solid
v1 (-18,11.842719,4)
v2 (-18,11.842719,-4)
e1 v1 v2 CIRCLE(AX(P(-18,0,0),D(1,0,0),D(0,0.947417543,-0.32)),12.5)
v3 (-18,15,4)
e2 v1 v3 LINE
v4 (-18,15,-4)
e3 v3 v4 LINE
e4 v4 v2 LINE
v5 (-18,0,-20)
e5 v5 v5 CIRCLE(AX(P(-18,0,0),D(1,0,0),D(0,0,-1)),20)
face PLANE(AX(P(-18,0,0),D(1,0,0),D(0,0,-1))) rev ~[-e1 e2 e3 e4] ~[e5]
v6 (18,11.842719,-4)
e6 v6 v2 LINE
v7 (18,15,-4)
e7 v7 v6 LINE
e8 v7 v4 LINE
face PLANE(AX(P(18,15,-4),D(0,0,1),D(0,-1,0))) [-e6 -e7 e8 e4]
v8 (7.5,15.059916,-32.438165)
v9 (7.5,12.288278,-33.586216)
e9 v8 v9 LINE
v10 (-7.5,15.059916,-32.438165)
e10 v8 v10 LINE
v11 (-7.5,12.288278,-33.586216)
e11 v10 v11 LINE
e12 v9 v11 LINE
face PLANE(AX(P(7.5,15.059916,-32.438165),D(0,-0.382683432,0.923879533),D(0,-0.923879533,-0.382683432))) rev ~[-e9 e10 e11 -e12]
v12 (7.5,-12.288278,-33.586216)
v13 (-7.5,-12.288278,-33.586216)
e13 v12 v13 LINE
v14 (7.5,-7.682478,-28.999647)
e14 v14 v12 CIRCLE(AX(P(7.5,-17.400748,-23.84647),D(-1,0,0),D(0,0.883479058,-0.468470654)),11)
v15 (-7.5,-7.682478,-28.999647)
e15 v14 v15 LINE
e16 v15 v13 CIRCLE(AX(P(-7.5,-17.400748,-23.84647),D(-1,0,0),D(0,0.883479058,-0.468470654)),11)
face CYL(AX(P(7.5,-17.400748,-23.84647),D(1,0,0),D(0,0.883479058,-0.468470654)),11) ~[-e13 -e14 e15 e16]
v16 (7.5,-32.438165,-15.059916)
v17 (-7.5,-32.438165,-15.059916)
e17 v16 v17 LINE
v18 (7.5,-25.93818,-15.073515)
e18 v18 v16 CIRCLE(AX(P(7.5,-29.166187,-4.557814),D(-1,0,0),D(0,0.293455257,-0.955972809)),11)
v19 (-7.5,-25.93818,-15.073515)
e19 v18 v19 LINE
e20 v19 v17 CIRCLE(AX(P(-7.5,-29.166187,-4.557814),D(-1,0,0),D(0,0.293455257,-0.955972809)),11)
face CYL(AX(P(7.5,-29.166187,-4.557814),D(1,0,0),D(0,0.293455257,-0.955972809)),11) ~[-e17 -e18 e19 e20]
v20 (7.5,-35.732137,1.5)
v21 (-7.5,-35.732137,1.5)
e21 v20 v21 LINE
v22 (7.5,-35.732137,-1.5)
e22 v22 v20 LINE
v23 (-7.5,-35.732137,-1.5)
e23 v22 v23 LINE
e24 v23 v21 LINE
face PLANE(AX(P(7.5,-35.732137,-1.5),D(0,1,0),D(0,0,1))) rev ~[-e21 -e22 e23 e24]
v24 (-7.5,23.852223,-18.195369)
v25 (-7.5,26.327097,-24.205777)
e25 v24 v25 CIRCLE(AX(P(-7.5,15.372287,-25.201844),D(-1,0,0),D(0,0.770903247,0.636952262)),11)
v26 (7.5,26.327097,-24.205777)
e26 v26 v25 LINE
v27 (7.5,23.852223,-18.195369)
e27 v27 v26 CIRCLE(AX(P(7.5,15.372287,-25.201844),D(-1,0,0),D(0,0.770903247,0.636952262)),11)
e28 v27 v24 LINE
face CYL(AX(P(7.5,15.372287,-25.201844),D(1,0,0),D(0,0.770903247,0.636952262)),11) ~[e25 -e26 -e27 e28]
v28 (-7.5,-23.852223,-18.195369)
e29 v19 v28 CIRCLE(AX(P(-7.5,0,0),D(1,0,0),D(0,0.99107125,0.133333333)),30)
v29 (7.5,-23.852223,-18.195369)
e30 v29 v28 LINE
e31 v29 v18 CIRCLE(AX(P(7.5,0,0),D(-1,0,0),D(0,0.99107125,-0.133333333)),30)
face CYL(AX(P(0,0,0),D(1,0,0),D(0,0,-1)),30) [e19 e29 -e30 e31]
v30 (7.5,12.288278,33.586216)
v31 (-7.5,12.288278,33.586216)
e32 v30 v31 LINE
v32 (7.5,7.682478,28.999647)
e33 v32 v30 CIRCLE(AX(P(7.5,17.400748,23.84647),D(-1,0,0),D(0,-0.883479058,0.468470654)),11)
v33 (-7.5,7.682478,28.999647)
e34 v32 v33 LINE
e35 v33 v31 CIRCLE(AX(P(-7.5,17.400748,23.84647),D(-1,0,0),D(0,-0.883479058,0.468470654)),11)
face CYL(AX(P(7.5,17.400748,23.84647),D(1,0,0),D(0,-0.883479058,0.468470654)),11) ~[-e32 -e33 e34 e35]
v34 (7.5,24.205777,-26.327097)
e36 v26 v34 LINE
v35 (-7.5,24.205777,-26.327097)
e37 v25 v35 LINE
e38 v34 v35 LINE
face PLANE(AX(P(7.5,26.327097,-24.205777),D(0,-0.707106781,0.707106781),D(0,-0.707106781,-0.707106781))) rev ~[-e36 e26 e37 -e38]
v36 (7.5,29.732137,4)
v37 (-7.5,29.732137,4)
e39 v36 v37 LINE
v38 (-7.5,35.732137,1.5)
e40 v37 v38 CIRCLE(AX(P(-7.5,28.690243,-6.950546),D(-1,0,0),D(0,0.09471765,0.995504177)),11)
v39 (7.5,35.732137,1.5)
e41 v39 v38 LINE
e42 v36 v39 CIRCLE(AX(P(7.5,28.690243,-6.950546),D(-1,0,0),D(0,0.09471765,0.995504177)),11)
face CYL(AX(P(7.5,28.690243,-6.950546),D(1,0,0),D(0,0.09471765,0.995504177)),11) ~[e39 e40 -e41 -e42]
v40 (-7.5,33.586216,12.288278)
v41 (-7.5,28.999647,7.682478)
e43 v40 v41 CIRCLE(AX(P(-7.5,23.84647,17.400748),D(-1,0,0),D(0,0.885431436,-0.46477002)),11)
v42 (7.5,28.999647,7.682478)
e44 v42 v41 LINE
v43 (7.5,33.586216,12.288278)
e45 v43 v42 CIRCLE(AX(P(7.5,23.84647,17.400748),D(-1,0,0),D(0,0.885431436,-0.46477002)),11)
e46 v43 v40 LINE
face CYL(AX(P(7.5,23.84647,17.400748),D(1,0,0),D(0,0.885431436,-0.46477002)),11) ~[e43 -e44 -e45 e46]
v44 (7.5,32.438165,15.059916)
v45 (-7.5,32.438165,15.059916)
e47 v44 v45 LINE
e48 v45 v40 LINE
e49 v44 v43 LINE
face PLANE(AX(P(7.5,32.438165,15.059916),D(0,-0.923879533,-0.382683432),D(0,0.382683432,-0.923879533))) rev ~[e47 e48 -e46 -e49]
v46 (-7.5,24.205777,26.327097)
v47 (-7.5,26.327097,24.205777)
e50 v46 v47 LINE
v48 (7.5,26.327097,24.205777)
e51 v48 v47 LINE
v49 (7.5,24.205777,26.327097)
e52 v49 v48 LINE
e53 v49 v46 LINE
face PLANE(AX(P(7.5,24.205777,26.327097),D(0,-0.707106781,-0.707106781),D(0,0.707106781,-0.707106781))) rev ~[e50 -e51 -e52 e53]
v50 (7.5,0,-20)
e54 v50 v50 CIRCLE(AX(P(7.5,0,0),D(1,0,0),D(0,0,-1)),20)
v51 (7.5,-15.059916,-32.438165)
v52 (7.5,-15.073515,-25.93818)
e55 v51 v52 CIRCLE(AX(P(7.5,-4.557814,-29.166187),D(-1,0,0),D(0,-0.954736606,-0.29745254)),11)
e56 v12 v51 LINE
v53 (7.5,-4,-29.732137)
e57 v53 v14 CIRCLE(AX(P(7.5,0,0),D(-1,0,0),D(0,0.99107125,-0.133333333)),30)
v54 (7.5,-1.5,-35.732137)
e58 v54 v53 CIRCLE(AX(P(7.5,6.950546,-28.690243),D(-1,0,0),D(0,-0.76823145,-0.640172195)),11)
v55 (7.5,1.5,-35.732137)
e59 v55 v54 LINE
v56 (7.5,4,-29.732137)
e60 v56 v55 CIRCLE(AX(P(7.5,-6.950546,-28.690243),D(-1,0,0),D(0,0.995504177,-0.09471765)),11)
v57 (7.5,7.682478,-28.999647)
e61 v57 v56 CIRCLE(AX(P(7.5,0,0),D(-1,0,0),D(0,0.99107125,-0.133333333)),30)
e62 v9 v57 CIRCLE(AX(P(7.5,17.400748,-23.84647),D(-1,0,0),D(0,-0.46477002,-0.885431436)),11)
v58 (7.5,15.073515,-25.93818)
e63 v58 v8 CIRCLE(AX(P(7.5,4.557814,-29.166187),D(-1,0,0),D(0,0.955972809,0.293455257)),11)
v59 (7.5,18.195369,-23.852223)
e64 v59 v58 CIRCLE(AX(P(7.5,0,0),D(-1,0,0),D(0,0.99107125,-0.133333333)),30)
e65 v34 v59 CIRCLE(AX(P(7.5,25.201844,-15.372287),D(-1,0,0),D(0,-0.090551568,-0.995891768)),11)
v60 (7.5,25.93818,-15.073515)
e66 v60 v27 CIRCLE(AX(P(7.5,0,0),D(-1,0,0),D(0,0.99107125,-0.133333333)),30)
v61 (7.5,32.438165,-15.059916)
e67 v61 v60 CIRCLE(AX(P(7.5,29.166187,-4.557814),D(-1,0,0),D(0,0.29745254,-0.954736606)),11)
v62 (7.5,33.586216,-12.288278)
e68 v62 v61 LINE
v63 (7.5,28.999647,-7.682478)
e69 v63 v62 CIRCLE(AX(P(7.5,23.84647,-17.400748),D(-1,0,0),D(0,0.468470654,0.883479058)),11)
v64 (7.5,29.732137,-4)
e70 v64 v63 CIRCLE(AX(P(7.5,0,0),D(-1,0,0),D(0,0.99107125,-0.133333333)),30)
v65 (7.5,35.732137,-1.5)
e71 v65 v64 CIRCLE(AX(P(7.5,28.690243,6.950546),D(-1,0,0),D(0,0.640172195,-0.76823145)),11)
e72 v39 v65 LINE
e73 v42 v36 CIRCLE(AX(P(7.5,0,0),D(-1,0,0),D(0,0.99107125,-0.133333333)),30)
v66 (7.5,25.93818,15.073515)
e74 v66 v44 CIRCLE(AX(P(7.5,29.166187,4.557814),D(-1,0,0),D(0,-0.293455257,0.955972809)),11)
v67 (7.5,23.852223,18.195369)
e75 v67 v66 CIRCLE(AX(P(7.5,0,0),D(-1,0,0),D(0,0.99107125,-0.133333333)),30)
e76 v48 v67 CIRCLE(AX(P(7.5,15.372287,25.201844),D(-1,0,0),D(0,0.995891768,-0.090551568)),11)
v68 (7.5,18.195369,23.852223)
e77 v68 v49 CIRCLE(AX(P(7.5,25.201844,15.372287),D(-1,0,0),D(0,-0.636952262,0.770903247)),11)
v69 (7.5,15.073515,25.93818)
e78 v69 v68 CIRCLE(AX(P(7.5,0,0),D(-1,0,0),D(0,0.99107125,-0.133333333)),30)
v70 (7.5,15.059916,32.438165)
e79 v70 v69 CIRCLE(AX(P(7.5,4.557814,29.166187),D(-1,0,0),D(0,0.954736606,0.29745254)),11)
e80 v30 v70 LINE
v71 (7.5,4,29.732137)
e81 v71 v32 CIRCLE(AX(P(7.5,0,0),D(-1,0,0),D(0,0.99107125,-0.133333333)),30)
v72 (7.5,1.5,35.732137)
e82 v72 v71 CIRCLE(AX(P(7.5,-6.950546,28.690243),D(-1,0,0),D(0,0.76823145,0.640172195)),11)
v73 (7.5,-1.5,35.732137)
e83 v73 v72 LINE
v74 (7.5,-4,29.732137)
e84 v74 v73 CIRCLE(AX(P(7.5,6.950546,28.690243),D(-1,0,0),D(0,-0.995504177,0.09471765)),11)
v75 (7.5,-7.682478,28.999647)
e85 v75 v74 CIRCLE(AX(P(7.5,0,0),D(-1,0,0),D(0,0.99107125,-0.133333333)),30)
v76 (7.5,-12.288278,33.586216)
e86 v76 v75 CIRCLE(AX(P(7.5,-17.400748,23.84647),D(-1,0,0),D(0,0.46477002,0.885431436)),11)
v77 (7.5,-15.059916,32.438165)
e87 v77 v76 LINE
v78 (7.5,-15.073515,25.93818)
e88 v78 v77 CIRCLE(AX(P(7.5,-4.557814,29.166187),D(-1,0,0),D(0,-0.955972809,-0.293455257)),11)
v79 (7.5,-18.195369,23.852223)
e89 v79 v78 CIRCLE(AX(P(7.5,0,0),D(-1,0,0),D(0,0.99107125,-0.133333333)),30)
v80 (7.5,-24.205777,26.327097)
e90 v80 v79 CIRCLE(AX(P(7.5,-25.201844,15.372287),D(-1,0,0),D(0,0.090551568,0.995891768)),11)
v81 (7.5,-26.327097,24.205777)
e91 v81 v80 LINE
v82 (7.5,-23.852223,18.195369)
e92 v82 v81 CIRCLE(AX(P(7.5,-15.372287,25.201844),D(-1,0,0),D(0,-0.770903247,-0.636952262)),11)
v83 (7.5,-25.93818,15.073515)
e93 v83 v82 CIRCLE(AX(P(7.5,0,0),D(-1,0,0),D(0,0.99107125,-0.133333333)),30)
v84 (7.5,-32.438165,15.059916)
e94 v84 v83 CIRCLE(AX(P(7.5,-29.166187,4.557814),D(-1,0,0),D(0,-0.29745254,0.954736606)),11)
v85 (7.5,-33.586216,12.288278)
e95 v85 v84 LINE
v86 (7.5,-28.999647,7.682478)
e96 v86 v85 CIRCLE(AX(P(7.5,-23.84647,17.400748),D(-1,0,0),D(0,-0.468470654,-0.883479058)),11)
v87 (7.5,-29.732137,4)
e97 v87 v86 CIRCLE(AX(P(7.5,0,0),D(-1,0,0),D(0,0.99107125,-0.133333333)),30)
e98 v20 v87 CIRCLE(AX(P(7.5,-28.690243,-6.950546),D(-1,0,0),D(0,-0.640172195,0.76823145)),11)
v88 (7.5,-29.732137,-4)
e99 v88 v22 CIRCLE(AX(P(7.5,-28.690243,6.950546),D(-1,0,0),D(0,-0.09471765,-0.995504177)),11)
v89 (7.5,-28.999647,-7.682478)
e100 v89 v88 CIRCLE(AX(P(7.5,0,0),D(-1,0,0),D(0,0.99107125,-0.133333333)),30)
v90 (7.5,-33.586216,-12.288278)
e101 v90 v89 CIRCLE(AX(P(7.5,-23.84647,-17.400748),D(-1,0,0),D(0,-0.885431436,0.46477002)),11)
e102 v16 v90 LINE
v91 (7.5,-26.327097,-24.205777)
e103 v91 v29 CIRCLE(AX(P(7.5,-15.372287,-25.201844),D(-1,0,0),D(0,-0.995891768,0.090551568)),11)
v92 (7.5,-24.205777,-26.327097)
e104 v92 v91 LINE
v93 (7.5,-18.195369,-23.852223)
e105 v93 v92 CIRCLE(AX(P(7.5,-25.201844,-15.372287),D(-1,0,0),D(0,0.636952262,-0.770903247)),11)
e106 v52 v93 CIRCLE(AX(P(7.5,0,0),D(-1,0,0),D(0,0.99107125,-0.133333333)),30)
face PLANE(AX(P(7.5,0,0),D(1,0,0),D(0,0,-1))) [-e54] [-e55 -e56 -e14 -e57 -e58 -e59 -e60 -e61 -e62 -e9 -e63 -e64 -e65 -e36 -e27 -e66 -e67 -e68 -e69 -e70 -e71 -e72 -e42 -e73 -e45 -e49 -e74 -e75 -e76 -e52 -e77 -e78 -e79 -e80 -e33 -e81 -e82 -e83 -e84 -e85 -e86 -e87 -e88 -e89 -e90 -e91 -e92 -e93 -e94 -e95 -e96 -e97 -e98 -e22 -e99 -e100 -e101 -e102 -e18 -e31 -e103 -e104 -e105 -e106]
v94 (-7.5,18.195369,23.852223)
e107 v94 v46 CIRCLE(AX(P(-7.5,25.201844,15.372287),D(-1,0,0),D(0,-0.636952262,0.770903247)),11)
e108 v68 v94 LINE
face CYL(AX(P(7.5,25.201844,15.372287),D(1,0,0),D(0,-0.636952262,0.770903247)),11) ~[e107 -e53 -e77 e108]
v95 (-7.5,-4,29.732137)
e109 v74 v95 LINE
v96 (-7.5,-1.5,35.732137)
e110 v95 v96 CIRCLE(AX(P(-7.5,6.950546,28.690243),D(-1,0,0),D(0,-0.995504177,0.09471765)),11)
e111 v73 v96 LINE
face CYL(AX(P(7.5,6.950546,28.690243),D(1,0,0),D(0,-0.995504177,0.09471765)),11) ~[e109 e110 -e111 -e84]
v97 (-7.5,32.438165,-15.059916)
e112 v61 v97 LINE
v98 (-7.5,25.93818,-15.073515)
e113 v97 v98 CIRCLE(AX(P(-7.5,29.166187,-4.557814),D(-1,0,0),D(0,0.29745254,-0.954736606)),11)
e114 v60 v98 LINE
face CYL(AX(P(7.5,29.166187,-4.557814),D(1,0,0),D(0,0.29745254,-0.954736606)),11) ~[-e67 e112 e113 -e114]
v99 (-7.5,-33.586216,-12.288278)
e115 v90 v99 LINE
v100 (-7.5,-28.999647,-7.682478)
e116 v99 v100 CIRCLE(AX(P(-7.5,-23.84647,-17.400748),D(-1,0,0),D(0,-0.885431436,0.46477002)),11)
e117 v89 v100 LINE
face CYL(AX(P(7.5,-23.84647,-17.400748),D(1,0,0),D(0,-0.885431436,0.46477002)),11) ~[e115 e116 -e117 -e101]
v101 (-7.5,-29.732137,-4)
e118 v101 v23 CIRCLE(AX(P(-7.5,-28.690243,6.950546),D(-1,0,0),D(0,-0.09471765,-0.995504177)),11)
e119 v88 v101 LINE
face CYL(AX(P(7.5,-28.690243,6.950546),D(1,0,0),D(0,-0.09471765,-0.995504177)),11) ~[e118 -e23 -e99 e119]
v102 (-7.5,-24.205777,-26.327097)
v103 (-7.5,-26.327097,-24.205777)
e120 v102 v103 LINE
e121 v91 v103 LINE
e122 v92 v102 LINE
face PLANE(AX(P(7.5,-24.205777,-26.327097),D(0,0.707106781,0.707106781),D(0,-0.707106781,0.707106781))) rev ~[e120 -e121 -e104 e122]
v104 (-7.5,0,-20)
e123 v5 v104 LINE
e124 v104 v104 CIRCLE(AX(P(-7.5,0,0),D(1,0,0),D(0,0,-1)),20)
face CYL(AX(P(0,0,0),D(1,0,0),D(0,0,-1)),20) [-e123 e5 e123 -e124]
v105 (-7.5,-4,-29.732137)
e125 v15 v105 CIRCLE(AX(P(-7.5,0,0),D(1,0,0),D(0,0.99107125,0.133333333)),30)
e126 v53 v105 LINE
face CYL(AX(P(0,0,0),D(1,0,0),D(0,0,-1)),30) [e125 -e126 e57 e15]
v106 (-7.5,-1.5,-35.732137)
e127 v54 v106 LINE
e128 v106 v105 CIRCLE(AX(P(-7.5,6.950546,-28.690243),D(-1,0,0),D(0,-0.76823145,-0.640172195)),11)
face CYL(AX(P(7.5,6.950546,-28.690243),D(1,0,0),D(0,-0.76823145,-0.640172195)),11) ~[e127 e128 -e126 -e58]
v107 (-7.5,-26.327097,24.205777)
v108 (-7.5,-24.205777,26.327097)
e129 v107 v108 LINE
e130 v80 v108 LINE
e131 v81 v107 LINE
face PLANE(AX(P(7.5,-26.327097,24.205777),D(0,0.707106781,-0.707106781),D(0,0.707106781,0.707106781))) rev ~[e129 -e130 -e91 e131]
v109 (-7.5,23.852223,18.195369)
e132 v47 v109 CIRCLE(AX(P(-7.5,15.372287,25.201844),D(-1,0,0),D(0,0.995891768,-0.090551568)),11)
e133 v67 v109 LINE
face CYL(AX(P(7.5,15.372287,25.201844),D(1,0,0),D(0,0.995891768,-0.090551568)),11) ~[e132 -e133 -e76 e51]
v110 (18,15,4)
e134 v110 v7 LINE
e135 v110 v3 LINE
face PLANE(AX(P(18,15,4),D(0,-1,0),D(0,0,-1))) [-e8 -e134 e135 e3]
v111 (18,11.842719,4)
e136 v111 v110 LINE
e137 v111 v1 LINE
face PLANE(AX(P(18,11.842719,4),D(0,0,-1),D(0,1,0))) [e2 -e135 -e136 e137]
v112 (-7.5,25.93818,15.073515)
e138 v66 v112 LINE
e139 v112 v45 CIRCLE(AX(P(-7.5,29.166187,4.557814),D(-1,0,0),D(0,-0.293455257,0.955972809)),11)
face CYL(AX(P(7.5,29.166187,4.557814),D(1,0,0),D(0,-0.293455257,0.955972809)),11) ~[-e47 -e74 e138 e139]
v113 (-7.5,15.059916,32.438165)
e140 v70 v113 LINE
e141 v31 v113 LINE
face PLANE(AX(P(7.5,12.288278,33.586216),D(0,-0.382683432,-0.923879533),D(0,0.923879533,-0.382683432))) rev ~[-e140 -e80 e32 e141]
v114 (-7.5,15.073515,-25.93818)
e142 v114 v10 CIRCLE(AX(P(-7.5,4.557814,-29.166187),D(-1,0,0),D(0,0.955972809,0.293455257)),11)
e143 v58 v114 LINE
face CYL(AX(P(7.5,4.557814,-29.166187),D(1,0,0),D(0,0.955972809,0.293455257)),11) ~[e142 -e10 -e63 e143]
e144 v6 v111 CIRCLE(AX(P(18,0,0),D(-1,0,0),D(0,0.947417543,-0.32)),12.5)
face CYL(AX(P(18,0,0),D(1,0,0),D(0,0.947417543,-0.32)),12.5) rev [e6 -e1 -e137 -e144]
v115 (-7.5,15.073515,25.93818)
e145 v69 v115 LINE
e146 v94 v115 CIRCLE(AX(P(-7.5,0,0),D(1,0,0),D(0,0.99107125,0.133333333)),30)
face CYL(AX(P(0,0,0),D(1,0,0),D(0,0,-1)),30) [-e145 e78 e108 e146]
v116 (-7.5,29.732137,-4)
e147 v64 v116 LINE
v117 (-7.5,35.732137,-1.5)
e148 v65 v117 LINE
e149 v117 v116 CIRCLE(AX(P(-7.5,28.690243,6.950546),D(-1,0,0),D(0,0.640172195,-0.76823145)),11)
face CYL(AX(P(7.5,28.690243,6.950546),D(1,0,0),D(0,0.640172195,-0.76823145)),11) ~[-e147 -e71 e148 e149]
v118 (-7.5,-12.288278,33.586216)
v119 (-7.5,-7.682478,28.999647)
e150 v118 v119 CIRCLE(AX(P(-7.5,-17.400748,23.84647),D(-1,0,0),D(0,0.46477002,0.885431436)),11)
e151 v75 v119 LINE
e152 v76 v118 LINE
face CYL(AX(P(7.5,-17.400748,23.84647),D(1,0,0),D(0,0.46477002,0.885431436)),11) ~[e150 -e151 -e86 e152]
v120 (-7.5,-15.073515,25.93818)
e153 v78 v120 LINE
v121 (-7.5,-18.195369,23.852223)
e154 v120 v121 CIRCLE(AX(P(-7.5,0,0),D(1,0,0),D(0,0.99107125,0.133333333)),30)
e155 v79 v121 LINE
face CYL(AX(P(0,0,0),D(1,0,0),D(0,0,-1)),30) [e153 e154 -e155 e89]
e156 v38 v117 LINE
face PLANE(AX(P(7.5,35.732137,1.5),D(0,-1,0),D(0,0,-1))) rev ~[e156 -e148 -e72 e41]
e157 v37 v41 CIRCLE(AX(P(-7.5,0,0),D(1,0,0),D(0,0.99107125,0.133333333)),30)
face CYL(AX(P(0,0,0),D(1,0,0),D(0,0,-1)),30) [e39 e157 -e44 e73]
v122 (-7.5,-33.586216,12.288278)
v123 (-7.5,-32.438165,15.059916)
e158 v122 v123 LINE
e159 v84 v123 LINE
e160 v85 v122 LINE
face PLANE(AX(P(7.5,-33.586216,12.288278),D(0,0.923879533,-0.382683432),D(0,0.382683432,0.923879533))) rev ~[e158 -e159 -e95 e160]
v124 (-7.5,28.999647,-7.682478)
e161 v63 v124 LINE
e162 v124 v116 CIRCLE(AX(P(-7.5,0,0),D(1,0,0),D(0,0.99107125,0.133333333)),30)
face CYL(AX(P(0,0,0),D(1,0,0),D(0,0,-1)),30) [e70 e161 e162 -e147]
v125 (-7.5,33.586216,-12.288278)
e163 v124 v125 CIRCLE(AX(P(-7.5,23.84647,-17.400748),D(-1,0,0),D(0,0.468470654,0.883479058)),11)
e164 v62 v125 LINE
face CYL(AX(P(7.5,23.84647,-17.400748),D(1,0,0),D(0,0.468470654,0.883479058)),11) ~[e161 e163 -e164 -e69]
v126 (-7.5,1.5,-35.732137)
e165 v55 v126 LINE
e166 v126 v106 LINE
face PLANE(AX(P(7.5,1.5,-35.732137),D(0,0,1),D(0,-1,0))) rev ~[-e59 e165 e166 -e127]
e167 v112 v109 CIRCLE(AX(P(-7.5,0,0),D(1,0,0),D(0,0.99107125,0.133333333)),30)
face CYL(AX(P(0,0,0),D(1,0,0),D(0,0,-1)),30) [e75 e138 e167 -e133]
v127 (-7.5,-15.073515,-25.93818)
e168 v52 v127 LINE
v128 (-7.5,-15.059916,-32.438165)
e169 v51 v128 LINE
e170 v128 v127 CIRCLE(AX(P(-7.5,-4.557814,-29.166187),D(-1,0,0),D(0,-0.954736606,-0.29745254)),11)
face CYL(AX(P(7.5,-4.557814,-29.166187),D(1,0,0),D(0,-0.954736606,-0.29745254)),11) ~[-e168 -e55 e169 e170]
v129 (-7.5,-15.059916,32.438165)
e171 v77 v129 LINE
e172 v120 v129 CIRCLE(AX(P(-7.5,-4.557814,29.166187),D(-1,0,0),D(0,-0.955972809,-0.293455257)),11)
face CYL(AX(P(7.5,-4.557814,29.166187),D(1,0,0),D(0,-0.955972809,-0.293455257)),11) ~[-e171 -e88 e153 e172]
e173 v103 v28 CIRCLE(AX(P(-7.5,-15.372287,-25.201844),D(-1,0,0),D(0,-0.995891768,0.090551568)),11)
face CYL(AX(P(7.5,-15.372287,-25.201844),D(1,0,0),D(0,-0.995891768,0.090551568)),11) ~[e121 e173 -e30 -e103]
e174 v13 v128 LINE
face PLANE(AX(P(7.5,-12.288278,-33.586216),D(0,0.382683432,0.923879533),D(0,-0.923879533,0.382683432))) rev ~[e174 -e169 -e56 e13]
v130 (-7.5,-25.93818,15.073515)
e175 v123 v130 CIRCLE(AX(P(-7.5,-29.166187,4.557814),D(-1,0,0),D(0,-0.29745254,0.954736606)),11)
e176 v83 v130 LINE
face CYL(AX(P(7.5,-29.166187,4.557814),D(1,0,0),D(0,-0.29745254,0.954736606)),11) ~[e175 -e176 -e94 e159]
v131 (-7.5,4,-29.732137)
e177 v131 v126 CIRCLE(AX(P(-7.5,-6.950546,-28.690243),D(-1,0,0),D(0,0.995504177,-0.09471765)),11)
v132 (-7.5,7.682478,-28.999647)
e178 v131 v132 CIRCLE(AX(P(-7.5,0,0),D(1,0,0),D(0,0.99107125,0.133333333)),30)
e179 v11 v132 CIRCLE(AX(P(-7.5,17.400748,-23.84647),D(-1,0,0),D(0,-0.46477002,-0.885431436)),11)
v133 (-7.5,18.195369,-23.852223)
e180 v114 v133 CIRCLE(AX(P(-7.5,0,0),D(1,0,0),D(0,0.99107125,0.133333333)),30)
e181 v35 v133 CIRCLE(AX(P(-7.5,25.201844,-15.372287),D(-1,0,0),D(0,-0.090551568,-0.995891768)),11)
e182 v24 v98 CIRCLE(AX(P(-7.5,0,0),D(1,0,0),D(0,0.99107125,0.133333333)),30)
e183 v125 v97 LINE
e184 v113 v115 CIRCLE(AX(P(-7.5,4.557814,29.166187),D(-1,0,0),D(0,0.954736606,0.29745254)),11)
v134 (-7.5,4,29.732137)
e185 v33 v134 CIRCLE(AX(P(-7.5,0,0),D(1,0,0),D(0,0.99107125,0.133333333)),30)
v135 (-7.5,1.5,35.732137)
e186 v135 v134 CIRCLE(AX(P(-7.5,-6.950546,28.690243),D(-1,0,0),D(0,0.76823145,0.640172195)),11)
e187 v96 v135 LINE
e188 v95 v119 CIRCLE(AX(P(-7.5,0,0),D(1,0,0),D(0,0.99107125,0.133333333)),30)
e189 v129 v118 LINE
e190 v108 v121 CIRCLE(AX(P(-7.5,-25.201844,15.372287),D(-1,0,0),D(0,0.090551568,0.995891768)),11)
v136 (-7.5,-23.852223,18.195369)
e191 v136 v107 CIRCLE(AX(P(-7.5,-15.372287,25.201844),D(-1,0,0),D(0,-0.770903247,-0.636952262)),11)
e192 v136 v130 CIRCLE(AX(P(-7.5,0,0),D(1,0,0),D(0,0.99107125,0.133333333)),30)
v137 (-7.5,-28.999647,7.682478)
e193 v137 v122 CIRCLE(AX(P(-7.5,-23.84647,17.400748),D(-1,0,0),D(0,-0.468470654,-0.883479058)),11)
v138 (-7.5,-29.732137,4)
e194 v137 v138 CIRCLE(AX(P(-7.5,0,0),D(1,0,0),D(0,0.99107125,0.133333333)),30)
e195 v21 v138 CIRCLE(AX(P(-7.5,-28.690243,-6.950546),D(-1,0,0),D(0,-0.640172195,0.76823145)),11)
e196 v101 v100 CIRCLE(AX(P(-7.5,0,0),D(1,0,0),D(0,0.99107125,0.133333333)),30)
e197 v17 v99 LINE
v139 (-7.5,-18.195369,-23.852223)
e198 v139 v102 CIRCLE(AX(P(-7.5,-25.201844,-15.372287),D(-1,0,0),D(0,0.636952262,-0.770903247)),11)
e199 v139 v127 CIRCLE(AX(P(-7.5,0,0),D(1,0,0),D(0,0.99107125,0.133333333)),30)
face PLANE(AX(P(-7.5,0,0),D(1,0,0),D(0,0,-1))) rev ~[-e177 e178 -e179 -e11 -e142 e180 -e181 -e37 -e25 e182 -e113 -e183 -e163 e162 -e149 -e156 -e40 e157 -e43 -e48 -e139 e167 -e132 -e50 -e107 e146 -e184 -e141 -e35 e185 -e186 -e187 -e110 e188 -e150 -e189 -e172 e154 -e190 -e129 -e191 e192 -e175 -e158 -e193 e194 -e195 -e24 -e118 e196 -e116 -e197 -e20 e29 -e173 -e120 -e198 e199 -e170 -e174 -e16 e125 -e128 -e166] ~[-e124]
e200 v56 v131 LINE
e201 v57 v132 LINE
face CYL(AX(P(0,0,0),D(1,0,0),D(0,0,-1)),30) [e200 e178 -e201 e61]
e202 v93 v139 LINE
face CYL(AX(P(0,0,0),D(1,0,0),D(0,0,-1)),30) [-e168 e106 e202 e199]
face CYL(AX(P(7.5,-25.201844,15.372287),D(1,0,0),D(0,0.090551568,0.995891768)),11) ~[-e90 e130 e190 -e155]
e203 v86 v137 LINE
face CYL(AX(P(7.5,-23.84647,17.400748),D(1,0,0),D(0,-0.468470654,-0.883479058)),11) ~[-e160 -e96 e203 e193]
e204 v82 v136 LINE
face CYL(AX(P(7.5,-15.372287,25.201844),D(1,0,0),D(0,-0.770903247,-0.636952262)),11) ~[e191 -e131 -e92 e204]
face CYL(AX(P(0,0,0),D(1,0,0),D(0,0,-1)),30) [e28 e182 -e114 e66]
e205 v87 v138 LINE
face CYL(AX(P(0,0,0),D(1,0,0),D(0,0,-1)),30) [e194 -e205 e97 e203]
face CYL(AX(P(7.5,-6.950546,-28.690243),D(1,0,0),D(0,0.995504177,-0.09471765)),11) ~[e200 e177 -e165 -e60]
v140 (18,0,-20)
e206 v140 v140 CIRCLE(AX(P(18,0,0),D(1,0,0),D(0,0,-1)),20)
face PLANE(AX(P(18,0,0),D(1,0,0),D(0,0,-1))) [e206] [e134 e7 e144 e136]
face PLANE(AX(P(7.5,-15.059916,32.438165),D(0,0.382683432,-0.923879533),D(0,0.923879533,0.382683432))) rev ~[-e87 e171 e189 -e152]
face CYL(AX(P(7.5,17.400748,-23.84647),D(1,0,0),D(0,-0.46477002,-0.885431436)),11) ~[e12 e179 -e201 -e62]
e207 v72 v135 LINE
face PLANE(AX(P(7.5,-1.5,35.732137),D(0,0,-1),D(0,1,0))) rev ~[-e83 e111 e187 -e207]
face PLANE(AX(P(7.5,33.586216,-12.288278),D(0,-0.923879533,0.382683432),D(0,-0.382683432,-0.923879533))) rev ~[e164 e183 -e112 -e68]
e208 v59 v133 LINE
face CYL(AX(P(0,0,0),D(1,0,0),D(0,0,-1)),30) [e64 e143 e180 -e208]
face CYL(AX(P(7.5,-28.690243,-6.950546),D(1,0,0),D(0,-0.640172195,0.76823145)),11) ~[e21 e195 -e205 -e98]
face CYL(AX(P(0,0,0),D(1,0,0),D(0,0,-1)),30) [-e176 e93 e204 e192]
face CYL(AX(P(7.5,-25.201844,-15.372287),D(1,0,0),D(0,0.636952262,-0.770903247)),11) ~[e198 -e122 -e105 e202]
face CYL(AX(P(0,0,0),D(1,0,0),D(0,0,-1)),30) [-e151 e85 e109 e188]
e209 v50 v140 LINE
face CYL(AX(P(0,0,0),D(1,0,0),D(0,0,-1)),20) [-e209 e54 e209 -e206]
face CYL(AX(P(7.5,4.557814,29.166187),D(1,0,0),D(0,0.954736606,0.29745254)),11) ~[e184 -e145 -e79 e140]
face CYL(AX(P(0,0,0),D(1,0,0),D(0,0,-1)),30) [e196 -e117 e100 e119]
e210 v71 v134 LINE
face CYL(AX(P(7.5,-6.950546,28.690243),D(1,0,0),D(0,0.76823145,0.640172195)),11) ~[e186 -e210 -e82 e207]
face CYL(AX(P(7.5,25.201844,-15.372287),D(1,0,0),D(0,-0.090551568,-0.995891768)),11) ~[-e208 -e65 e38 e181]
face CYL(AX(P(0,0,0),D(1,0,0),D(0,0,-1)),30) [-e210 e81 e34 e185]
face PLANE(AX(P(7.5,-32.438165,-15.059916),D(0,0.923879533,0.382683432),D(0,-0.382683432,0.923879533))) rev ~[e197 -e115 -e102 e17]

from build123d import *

# Parameters (mm, degrees)
SKETCH2_R           = 30
BOSS_EXTRUDE1_DEPTH = 7.5
BOSS_EXTRUDE2_DEPTH = 15
CIRPATTERN1_COUNT   = 16
SKETCH4_R           = 20
BOSS_EXTRUDE3_DEPTH = 18
CUT_EXTRUDE1_DEPTH  = 37


with BuildPart() as part:
    # Sketch2 → Boss-Extrude1 (new body, symmetric)
    with BuildSketch(Plane(origin=(0, 0, 0), x_dir=(0, 0, -1), z_dir=(1, 0, 0))):
        Circle(SKETCH2_R)
    extrude(amount=BOSS_EXTRUDE1_DEPTH, both=True)

    # Sketch3 → Boss-Extrude2 (add)
    with BuildSketch(Plane(origin=(7.5, 0, 0), x_dir=(0, 0, -1), z_dir=(1, 0, 0))):
        with BuildLine():
            Line((-1.5, 35.732137495), (1.5, 35.732137495))
            ThreePointArc((1.5, 35.732137495), (3.203300204, 32.92101258), (4, 29.732137495))
            ThreePointArc((4, 29.732137495), (0, 30), (-4, 29.732137495))
            ThreePointArc((-4, 29.732137495), (-3.203300204, 32.92101258), (-1.5, 35.732137495))
        make_face()
    boss_extrude2 = extrude(amount=-BOSS_EXTRUDE2_DEPTH)

    # CirPattern1: Boss-Extrude2 ×16 about axis
    cirpattern1_axis = Axis((0, 0, 0), (1, 0, 0))
    for i in range(1, CIRPATTERN1_COUNT):
        add(boss_extrude2.rotate(cirpattern1_axis, i * 360 / CIRPATTERN1_COUNT))

    # Sketch4 → Boss-Extrude3 (add, symmetric)
    with BuildSketch(Plane(origin=(0, 0, 0), x_dir=(0, 0, -1), z_dir=(1, 0, 0))):
        Circle(SKETCH4_R)
    extrude(amount=BOSS_EXTRUDE3_DEPTH, both=True)

    # Sketch5 → Cut-Extrude1 (cut, through all)
    with BuildSketch(Plane(origin=(18, 0, 0), x_dir=(0, 0, -1), z_dir=(1, 0, 0))):
        with BuildLine():
            Line((-4, 15), (4, 15))
            Line((4, 15), (4, 11.842719282))
            ThreePointArc((4, 11.842719282), (0, -12.5), (-4, 11.842719282))
            Line((-4, 11.842719282), (-4, 15))
        make_face()
    extrude(amount=-CUT_EXTRUDE1_DEPTH, mode=Mode.SUBTRACT)


solid = part.part
